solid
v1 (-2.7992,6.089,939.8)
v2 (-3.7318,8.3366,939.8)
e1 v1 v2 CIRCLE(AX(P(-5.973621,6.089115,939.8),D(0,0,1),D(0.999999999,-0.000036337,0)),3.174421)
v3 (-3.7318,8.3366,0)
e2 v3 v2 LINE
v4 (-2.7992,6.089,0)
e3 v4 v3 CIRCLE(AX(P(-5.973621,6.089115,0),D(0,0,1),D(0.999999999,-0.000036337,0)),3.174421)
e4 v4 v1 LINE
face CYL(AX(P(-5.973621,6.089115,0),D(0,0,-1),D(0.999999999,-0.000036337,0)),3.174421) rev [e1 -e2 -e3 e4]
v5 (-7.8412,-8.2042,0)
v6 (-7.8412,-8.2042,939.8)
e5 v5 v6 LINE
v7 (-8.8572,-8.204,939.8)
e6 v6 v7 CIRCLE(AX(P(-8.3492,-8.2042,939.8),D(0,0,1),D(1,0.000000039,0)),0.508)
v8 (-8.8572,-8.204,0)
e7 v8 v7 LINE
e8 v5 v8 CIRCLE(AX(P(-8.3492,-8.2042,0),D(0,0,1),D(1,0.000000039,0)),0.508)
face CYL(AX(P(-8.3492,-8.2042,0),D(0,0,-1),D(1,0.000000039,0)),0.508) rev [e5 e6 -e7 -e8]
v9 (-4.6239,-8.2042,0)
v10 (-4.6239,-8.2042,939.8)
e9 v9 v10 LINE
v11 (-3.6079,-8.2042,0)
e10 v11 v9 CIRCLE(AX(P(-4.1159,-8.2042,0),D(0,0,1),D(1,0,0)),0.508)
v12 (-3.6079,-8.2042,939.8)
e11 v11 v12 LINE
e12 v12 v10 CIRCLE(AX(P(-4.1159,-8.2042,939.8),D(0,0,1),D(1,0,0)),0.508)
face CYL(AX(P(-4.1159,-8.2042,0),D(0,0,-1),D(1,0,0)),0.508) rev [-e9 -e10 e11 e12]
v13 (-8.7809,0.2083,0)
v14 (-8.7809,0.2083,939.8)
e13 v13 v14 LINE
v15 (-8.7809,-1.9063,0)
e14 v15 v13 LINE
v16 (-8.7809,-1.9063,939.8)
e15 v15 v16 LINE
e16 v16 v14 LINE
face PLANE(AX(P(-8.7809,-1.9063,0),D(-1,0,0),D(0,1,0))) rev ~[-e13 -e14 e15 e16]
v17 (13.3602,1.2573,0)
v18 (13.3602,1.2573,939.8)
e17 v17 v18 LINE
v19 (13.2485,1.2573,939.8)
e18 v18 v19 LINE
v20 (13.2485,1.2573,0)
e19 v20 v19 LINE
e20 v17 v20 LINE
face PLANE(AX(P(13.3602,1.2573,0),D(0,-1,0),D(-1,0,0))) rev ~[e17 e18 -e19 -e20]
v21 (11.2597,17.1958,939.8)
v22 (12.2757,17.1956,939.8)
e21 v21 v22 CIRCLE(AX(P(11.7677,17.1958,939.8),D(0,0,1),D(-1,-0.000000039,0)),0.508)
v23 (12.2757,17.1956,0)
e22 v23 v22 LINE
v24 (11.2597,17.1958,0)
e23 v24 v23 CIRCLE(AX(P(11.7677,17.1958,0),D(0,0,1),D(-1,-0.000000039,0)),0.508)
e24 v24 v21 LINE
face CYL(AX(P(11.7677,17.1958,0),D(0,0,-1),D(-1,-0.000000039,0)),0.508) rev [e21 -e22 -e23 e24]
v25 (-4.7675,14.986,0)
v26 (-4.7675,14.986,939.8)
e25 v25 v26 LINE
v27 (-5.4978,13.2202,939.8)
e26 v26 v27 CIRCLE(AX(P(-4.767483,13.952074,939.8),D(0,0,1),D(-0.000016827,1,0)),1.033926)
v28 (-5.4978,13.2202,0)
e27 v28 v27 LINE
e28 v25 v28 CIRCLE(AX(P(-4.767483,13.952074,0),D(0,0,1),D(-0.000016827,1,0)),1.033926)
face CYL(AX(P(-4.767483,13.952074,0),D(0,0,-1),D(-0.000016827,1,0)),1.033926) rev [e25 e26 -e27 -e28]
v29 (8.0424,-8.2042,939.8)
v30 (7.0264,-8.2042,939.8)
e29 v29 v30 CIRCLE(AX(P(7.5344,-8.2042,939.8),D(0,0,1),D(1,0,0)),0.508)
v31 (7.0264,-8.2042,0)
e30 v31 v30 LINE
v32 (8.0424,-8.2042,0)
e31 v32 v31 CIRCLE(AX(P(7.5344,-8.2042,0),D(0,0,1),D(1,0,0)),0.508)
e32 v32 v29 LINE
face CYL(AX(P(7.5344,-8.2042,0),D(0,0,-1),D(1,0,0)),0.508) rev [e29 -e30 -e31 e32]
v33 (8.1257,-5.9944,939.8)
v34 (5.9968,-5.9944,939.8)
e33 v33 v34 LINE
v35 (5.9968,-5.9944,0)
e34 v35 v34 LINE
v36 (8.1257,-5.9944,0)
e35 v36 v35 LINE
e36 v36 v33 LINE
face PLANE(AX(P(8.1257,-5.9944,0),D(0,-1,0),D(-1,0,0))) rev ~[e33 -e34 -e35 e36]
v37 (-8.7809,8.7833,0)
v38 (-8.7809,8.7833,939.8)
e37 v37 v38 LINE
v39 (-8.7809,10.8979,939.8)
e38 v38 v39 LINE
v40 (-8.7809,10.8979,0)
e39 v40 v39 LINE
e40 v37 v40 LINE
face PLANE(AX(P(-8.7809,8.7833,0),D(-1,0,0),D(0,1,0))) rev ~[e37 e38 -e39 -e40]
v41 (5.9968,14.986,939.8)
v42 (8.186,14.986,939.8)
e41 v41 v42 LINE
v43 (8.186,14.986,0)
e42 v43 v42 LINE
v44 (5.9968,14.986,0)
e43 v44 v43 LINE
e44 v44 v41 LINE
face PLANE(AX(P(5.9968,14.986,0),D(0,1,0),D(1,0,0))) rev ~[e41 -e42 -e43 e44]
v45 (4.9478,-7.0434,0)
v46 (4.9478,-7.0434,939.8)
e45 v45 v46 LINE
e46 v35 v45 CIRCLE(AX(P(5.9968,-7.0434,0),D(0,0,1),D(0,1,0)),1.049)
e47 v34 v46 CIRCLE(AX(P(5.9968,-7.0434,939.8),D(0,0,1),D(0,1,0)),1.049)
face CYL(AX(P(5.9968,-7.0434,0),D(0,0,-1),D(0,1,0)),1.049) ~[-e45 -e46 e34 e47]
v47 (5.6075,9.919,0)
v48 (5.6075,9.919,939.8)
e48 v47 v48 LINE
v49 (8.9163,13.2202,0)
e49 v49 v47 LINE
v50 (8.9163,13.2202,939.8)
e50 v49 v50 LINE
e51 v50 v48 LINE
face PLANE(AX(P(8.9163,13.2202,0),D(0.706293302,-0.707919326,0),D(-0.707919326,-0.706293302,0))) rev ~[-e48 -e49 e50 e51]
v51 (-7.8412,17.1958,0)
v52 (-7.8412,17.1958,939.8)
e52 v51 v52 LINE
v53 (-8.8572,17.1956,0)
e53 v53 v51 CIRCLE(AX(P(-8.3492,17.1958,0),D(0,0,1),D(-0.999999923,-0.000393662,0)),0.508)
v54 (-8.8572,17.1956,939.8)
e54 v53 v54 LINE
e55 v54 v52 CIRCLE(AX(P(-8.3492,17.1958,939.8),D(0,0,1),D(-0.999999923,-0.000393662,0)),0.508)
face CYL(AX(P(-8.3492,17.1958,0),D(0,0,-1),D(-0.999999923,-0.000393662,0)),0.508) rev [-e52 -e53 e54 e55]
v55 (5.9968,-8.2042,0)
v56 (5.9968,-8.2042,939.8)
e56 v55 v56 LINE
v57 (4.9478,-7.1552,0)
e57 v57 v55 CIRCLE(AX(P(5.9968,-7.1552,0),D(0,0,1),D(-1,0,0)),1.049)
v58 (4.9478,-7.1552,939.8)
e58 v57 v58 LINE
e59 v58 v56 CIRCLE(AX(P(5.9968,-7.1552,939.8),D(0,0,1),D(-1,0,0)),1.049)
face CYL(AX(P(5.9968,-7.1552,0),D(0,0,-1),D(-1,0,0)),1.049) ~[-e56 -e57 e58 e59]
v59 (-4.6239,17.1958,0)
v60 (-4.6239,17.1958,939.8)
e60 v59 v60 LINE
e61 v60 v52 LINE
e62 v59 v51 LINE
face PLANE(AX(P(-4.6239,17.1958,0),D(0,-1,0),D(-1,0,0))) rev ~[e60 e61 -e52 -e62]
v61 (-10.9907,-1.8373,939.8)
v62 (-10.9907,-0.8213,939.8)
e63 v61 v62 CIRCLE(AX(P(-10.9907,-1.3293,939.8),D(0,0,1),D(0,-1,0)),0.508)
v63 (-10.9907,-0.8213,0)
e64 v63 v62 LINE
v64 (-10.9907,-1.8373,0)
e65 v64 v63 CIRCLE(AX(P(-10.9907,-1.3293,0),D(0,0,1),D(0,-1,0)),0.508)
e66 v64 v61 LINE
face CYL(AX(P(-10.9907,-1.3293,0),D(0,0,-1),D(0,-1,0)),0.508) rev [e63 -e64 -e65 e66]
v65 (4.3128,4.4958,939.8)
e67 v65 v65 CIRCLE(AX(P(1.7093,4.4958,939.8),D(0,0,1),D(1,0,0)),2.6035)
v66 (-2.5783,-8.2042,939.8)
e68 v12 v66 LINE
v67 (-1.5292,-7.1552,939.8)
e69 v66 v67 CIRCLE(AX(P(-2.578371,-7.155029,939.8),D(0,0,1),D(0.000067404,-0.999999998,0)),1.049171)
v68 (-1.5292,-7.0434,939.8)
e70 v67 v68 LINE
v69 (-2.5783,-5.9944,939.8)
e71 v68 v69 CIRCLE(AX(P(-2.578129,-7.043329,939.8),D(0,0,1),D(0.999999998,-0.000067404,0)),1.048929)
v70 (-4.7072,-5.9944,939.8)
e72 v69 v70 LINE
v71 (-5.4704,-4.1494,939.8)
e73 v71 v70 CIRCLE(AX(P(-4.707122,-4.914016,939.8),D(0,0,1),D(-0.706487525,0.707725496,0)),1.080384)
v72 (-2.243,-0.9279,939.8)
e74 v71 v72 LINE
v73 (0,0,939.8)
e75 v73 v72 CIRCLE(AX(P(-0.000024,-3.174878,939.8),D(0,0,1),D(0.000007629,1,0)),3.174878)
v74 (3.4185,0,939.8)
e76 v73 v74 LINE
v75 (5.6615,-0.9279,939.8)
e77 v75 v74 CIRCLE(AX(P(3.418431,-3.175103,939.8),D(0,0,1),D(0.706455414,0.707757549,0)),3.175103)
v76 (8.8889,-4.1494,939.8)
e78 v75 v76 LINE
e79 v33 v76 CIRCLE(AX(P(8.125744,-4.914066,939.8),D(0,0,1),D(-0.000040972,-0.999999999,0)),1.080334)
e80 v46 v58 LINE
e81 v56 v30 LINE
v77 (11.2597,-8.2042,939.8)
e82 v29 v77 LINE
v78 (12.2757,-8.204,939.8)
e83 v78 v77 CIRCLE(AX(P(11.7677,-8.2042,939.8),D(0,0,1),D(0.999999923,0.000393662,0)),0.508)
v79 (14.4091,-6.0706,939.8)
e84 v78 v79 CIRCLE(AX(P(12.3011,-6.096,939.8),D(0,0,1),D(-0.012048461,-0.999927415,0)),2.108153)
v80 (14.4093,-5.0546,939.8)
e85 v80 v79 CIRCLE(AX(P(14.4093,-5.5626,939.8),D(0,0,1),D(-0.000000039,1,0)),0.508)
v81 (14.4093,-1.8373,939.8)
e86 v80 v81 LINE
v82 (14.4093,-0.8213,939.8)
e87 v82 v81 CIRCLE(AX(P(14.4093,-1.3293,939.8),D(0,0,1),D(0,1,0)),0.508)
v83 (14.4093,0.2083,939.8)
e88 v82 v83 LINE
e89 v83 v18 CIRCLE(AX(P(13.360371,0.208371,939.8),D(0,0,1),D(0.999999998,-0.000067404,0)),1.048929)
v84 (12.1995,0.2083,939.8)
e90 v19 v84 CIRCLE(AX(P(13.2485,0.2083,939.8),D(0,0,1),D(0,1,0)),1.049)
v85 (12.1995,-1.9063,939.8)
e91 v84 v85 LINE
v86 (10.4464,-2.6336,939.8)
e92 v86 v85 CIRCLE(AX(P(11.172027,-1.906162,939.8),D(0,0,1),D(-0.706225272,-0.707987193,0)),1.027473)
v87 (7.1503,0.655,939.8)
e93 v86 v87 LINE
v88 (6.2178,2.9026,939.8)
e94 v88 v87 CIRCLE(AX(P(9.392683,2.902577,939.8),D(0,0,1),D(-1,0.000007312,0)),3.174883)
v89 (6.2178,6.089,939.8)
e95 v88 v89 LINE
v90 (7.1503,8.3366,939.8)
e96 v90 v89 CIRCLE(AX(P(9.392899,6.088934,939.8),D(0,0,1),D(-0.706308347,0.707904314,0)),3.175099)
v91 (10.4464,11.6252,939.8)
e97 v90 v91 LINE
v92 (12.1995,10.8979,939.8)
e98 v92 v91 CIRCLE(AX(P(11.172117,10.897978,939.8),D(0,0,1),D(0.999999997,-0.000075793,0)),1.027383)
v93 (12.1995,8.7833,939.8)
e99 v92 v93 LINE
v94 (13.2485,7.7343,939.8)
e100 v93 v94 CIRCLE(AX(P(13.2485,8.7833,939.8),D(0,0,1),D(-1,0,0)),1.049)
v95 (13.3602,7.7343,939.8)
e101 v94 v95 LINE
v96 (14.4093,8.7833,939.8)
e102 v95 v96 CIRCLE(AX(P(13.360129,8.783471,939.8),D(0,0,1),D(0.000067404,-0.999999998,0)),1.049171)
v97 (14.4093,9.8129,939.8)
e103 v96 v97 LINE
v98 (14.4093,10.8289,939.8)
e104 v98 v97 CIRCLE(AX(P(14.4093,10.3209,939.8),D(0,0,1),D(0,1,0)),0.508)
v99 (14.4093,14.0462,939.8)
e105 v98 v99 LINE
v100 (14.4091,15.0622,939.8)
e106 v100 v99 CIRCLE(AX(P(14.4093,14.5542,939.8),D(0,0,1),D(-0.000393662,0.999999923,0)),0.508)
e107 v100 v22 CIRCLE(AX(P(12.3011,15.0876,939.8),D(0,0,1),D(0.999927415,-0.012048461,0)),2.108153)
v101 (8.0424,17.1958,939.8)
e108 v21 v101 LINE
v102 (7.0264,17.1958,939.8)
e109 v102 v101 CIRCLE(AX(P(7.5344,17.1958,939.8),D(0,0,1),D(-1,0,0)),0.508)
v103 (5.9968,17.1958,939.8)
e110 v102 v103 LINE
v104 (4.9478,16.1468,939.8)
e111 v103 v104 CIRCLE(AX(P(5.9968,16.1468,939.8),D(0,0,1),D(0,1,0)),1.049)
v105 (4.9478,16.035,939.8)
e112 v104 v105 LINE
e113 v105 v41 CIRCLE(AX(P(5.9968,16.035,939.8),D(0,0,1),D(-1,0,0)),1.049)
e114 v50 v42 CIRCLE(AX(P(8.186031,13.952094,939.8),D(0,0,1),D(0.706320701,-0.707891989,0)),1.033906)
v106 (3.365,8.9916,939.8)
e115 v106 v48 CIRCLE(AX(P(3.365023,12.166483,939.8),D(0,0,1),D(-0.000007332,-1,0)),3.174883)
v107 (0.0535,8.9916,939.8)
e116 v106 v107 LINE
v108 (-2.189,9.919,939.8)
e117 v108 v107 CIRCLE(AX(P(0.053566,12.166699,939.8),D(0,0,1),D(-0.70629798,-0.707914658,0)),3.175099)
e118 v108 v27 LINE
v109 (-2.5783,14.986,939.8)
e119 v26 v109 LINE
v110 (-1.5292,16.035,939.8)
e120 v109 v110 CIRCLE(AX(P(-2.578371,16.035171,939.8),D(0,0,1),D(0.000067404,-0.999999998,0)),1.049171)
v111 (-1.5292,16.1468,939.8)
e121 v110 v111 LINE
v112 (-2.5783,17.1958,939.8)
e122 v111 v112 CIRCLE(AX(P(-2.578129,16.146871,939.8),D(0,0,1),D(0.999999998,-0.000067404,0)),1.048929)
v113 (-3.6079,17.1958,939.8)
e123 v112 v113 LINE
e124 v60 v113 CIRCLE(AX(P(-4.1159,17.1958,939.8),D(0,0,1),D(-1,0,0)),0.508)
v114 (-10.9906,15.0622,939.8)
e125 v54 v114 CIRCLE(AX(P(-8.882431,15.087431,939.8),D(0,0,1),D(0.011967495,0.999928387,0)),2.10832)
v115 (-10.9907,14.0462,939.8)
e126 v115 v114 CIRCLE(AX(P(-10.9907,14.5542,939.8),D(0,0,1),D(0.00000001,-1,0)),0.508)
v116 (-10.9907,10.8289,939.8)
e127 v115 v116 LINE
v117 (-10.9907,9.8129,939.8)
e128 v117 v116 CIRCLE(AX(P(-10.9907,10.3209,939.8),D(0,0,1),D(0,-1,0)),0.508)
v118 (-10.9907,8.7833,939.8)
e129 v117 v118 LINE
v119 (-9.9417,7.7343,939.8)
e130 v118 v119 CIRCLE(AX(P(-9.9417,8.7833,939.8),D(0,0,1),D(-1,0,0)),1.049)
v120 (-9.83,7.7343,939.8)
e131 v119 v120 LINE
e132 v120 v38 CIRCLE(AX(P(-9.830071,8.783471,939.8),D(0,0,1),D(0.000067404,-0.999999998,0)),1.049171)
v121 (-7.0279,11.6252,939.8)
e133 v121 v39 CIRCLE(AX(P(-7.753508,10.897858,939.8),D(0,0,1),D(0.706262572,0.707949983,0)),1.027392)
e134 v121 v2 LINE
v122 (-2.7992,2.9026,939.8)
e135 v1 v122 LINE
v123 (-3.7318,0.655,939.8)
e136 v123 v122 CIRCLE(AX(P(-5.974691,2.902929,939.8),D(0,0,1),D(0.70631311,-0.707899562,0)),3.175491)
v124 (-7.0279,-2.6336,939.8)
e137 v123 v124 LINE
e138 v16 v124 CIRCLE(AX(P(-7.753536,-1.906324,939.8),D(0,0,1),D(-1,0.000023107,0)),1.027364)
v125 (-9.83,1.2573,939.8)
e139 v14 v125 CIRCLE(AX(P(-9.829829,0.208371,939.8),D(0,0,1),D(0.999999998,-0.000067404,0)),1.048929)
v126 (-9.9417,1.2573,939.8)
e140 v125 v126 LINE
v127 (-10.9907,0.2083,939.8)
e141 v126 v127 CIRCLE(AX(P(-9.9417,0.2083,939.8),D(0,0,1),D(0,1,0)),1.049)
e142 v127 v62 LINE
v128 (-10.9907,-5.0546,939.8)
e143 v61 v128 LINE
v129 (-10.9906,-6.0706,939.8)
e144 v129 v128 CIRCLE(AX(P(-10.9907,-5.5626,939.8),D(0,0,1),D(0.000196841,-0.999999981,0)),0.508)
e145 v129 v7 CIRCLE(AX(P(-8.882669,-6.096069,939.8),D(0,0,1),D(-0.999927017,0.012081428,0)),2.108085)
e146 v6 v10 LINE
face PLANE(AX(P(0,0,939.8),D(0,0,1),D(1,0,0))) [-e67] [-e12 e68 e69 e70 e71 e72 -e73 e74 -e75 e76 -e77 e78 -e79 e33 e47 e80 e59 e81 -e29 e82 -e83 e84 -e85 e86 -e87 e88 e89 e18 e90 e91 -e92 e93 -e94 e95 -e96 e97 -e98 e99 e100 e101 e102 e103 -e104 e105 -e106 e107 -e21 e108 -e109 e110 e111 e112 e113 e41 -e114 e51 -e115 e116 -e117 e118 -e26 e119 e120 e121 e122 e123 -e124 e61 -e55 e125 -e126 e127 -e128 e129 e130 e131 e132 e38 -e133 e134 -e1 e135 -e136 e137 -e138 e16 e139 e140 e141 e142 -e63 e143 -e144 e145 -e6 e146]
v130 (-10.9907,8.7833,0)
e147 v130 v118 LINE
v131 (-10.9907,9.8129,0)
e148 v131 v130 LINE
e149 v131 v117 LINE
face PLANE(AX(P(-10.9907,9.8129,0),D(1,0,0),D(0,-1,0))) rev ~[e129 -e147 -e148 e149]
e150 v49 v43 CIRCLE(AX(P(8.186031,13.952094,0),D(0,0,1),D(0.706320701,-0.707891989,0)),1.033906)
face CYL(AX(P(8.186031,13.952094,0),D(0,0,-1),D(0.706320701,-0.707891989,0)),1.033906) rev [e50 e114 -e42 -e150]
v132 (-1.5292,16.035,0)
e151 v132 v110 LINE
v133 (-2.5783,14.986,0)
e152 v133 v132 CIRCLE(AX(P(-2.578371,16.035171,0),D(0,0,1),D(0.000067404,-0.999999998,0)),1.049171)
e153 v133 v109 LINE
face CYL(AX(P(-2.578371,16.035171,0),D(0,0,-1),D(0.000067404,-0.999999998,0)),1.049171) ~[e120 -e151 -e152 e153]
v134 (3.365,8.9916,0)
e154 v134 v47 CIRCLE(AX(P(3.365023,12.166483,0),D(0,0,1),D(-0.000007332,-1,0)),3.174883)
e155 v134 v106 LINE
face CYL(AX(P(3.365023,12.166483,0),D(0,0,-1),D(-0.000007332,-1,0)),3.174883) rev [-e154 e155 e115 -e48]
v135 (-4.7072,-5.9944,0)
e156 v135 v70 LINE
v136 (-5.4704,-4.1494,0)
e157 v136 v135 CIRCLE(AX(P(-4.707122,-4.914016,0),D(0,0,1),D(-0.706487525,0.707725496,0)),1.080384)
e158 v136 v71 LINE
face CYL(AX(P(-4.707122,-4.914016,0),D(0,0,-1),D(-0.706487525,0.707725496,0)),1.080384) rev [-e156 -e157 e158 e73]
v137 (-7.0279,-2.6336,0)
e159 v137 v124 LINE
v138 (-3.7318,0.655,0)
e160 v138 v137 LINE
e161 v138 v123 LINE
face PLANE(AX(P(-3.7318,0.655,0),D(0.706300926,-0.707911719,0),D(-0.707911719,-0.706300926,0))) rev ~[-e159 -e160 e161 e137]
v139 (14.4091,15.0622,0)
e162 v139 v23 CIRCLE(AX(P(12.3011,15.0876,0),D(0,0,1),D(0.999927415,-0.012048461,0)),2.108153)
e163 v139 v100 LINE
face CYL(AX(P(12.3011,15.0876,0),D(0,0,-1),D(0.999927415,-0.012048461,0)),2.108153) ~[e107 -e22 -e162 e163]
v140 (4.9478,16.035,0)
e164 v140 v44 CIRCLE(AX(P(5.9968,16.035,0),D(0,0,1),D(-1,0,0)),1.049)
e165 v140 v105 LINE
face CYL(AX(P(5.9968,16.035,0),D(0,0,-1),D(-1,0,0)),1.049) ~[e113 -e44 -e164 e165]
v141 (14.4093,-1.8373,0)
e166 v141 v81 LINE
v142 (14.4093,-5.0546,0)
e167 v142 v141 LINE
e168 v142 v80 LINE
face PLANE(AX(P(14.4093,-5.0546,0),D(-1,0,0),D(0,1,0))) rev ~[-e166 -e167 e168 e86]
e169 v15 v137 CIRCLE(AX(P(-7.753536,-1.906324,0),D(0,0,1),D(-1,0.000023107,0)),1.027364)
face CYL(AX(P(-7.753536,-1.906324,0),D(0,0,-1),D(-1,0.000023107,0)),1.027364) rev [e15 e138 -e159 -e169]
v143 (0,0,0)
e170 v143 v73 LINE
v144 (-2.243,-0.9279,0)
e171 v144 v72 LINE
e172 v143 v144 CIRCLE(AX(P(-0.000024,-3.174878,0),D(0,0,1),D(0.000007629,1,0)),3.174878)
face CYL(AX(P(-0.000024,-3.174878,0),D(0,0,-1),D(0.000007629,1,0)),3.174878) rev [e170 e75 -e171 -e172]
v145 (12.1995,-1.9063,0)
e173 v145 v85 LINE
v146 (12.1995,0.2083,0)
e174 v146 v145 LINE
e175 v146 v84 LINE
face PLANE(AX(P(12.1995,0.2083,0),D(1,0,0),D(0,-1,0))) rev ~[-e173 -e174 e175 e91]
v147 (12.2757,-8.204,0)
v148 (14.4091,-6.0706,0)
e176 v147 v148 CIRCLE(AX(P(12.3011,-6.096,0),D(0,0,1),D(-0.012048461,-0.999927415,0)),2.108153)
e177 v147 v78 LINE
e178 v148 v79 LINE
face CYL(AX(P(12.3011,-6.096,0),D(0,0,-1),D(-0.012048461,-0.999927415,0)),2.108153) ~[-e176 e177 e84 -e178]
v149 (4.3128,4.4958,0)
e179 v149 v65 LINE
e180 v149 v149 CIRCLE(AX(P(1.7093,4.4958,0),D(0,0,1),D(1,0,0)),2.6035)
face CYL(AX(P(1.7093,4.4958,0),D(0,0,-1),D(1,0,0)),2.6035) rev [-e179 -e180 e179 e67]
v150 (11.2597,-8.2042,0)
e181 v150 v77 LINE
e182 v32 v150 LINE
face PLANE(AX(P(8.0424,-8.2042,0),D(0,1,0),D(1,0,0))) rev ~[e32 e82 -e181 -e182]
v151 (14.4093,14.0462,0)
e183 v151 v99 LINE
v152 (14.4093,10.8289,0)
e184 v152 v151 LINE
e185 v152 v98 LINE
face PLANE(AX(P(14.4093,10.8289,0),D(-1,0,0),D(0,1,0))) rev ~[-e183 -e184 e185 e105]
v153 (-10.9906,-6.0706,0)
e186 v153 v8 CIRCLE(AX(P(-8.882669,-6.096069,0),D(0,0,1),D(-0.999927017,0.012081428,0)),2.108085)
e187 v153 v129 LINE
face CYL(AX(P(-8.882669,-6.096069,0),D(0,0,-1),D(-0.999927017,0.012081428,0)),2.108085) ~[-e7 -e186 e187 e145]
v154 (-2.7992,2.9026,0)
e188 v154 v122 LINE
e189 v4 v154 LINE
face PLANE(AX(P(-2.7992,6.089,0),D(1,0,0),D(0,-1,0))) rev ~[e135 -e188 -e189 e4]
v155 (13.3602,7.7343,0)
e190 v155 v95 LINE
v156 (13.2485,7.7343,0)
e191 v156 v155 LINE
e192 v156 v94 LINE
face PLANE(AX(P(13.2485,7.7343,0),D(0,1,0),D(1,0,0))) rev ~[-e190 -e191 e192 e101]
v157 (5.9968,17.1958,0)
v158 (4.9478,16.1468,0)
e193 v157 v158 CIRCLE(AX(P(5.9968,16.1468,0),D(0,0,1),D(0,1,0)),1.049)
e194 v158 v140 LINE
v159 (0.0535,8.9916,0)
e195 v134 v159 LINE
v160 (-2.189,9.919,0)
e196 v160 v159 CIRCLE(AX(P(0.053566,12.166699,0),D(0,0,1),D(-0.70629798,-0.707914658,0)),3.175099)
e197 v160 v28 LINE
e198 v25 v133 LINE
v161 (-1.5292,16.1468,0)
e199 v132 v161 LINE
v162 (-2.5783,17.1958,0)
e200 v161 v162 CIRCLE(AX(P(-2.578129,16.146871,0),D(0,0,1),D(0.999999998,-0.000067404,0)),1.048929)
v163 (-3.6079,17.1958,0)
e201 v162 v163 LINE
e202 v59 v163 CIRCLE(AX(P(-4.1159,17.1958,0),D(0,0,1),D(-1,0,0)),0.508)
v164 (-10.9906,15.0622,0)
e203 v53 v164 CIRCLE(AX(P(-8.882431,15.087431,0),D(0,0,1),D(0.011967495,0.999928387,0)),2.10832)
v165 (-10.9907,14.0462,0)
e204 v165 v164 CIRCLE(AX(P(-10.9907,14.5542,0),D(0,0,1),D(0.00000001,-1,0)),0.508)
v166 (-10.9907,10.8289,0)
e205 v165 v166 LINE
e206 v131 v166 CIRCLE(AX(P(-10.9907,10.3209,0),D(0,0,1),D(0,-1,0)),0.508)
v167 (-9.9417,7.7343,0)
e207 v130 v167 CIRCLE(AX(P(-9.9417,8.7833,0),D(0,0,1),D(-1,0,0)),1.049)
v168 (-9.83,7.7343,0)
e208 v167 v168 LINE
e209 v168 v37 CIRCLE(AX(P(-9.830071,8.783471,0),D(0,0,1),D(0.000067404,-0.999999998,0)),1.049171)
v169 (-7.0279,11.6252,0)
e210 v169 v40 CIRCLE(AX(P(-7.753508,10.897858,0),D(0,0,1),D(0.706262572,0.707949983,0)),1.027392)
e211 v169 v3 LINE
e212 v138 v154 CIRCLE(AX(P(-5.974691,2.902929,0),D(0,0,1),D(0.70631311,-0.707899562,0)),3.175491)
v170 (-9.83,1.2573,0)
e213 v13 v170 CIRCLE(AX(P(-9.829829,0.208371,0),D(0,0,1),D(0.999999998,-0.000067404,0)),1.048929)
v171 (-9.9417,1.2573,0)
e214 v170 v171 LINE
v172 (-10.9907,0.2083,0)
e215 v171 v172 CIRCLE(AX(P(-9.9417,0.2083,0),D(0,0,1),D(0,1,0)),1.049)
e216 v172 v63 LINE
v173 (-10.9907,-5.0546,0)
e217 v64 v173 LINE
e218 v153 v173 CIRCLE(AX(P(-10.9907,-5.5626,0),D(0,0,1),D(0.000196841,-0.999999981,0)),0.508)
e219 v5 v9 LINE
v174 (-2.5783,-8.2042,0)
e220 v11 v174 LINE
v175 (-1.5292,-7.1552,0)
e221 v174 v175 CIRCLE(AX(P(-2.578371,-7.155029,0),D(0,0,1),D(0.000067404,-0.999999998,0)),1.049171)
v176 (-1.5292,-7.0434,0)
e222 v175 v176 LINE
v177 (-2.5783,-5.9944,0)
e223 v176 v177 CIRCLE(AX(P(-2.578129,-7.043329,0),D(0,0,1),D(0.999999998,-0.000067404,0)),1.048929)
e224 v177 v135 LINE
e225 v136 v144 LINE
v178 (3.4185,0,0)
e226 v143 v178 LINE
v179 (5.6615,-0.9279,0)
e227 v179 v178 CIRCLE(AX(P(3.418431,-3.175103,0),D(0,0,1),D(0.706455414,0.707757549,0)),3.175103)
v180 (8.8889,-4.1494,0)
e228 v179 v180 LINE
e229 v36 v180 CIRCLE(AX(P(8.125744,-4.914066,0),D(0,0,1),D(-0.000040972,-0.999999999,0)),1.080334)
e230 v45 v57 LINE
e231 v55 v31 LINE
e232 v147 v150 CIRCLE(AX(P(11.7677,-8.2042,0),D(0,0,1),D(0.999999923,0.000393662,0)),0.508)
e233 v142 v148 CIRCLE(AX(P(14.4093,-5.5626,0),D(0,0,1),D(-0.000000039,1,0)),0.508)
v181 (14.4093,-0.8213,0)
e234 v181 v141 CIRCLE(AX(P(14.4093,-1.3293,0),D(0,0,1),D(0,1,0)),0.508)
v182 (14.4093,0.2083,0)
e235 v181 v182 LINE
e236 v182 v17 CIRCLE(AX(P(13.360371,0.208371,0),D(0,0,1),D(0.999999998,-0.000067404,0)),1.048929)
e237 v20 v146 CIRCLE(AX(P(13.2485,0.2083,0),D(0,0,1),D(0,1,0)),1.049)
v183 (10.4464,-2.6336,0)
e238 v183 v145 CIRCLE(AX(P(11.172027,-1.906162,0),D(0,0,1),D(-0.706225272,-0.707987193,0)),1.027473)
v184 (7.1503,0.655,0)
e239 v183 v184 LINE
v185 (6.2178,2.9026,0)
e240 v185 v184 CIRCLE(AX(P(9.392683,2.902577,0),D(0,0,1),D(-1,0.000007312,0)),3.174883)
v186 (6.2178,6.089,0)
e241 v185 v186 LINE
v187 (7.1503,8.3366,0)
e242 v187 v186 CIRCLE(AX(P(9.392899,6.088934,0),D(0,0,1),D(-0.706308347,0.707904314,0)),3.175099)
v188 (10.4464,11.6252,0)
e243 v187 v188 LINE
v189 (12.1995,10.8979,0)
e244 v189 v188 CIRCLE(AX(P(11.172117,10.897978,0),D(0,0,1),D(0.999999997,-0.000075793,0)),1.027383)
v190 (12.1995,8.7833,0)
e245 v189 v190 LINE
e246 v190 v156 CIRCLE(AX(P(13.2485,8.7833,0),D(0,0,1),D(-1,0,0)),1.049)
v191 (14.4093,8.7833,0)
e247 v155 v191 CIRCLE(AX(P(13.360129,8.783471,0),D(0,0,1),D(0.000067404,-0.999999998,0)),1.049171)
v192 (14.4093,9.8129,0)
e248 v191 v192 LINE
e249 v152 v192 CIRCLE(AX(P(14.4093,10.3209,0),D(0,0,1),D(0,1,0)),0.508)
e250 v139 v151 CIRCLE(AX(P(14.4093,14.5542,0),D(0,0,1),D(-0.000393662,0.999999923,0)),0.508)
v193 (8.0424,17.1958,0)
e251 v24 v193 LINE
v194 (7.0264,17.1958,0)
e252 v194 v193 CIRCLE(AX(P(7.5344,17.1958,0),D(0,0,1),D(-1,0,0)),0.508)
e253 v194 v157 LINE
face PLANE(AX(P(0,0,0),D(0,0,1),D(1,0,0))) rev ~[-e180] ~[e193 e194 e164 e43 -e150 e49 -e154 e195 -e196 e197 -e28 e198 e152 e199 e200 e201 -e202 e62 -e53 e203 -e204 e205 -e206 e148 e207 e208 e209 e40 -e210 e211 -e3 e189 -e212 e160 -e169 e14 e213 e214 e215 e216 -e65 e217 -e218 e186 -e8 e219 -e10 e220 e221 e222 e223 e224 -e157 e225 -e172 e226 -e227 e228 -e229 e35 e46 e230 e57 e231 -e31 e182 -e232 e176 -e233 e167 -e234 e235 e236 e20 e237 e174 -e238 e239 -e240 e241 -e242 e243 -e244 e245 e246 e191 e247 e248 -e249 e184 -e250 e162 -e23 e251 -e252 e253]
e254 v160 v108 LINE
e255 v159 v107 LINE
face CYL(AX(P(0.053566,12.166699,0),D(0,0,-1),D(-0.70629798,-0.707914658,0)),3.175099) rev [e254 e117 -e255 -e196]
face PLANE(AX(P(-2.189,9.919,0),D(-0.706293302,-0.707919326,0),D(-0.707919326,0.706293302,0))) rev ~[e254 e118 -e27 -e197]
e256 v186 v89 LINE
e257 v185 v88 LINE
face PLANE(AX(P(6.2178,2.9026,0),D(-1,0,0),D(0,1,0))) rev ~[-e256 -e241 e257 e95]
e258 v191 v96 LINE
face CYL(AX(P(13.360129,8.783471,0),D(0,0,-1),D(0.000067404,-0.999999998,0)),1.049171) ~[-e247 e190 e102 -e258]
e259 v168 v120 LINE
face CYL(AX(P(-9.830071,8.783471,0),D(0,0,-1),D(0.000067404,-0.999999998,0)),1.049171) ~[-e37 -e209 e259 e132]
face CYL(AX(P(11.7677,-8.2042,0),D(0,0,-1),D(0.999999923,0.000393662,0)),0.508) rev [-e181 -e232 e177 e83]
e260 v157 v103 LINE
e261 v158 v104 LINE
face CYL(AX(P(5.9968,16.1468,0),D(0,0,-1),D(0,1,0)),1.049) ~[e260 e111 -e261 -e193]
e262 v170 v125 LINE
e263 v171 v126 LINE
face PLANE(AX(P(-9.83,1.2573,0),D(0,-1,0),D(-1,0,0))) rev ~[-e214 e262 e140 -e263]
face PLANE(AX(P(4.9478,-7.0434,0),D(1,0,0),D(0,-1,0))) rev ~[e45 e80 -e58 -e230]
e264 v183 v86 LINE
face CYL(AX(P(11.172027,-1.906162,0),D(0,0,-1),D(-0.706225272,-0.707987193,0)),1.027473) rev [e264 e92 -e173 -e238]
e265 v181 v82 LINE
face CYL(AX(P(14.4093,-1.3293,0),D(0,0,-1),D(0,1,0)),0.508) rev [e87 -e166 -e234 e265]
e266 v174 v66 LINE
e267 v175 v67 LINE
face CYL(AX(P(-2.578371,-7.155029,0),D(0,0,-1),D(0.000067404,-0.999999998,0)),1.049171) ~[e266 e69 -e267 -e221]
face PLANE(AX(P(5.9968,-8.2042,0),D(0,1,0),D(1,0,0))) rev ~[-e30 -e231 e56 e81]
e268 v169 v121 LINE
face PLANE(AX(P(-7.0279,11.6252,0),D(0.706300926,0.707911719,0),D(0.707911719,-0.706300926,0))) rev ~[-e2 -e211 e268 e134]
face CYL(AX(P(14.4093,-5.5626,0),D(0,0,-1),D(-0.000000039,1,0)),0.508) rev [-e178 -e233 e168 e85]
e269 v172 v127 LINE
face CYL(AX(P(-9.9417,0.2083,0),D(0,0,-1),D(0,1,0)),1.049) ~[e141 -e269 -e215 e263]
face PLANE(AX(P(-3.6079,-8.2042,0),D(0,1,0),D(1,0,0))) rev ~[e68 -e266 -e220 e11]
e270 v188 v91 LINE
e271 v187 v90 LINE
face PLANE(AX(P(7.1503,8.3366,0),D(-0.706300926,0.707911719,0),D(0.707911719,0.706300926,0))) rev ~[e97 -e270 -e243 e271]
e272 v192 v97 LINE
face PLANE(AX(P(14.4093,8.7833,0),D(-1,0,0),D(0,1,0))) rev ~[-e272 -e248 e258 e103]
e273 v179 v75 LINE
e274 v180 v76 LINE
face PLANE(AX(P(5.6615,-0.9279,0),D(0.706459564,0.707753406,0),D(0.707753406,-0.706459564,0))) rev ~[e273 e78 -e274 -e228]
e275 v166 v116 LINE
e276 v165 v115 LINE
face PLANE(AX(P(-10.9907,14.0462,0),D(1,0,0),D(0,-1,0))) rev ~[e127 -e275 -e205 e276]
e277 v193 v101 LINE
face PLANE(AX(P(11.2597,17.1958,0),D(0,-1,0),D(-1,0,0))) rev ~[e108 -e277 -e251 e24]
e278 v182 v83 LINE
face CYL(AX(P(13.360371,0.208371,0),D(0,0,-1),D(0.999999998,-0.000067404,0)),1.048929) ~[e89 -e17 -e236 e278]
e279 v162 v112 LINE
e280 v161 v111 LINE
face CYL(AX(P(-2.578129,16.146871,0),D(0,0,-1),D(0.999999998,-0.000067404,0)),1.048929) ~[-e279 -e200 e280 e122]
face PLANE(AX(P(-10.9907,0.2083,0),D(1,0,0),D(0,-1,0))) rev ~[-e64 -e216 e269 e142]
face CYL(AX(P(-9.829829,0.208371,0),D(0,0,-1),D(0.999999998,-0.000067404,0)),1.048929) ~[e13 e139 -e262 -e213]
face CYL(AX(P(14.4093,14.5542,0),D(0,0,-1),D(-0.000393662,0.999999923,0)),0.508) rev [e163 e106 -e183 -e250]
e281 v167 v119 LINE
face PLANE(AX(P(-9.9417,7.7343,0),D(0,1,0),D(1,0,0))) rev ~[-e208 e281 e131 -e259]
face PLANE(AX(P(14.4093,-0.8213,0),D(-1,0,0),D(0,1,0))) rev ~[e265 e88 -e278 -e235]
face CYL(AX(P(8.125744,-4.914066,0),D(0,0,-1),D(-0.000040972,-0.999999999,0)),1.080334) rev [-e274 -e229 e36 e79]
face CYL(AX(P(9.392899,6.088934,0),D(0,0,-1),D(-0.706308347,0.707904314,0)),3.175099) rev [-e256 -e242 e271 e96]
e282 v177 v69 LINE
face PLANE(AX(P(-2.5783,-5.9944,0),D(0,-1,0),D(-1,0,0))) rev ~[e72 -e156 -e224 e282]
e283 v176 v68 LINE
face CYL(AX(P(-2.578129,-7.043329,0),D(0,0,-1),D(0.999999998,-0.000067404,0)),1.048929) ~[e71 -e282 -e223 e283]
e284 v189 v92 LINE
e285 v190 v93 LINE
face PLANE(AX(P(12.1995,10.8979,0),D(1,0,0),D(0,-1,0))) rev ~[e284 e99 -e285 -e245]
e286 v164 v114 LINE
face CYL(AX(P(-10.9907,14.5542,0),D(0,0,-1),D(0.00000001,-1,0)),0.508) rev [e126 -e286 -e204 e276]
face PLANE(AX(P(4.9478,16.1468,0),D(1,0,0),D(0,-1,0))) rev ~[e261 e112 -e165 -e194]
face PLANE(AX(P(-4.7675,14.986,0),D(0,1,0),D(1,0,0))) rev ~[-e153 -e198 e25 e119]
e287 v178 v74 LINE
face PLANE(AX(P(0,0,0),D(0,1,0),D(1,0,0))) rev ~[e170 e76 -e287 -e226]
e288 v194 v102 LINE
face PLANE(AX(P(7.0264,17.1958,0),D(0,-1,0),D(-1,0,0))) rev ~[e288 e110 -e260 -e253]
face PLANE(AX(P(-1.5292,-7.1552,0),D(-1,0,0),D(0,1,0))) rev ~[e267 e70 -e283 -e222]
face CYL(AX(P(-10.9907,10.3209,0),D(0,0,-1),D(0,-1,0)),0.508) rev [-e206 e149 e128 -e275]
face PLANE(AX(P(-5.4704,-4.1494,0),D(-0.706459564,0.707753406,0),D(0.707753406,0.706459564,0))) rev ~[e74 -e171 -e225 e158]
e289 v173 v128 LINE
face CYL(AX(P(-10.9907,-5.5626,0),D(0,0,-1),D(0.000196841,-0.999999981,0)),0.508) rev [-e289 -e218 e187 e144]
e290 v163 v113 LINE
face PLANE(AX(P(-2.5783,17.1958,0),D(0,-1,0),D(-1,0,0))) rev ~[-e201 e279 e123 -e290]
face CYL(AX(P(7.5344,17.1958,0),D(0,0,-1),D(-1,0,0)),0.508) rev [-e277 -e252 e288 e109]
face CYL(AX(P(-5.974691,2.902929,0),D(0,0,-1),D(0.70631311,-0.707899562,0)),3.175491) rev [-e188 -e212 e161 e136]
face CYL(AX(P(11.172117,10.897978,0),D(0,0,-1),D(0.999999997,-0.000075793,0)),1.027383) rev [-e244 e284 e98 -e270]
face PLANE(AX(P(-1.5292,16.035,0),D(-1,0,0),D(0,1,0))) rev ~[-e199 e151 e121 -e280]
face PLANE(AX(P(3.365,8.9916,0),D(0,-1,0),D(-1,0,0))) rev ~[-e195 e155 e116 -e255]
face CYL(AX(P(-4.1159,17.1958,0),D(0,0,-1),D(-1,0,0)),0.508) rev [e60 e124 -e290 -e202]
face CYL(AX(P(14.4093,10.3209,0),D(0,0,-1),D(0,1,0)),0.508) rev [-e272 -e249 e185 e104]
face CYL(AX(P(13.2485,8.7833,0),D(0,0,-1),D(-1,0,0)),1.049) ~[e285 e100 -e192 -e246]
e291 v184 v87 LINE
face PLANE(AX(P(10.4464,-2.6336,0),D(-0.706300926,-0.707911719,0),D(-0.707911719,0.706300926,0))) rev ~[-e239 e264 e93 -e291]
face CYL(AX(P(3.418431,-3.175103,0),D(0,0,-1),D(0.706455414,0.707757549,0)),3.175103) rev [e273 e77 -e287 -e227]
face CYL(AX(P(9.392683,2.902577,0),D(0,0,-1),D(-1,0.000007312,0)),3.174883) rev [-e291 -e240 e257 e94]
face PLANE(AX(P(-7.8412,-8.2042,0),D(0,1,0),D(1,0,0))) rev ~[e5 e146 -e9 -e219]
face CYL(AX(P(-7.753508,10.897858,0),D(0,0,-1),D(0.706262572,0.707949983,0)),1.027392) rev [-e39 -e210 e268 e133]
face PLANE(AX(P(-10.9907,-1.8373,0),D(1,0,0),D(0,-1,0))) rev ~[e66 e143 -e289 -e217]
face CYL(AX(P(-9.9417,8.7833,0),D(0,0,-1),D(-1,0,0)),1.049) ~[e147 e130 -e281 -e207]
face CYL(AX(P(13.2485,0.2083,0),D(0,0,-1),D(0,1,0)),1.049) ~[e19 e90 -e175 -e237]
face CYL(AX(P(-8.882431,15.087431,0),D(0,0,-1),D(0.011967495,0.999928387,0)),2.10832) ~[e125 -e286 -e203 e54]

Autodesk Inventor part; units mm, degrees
ref_plane "YZ Plane" through (0, 0, 0) normal (1, 0, 0) x (0, 1, 0)
ref_plane "XZ Plane" through (0, 0, 0) normal (0, 1, 0) x (-1, 0, 0)
ref_plane "XY Plane" through (0, 0, 0) normal (0, 0, 1) x (1, 0, 0)
sketch "Sketch1" plane through (0, 0, 0) normal (0, 0, 1) x (1, 0, 0)
  arc A0 (-5.4704, -4.1494) -> (-4.7072, -5.9944) centre (-4.7072, -4.914) ccw
  line L0 (-5.4704, -4.1494) -> (-2.243, -0.9279)
  arc A1 (0, 0) -> (-2.243, -0.9279) centre (0, -3.175) ccw
  line L1 (0, 0) -> (3.4185, 0)
  arc A2 (5.6615, -0.9279) -> (3.4185, 0) centre (3.4185, -3.175) ccw
  line L2 (5.6615, -0.9279) -> (8.8889, -4.1494)
  arc A3 (8.1257, -5.9944) -> (8.8889, -4.1494) centre (8.1257, -4.914) ccw
  line L3 (8.1257, -5.9944) -> (5.9968, -5.9944)
  arc A4 (5.9968, -5.9944) -> (4.9478, -7.0434) centre (5.9968, -7.0434) ccw
  line L4 (4.9478, -7.0434) -> (4.9478, -7.1552)
  arc A5 (4.9478, -7.1552) -> (5.9968, -8.2042) centre (5.9968, -7.1552) ccw
  line L5 (5.9968, -8.2042) -> (7.0264, -8.2042)
  arc A6 (8.0424, -8.2042) -> (7.0264, -8.2042) centre (7.5344, -8.2042) ccw
  line L6 (8.0424, -8.2042) -> (11.2597, -8.2042)
  arc A7 (12.2757, -8.204) -> (11.2597, -8.2042) centre (11.7677, -8.2042) ccw
  arc A8 (12.2757, -8.204) -> (14.4091, -6.0706) centre (12.3011, -6.096) ccw
  arc A9 (14.4093, -5.0546) -> (14.4091, -6.0706) centre (14.4093, -5.5626) ccw
  line L7 (14.4093, -5.0546) -> (14.4093, -1.8373)
  arc A10 (14.4093, -0.8213) -> (14.4093, -1.8373) centre (14.4093, -1.3293) ccw
  line L8 (14.4093, -0.8213) -> (14.4093, 0.2083)
  arc A11 (14.4093, 0.2083) -> (13.3602, 1.2573) centre (13.3602, 0.2083) ccw
  line L9 (13.3602, 1.2573) -> (13.2485, 1.2573)
  arc A12 (13.2485, 1.2573) -> (12.1995, 0.2083) centre (13.2485, 0.2083) ccw
  line L10 (12.1995, 0.2083) -> (12.1995, -1.9063)
  arc A13 (10.4464, -2.6336) -> (12.1995, -1.9063) centre (11.172, -1.9063) ccw
  line L11 (10.4464, -2.6336) -> (7.1503, 0.655)
  arc A14 (6.2178, 2.9026) -> (7.1503, 0.655) centre (9.3928, 2.9026) ccw
  line L12 (6.2178, 2.9026) -> (6.2178, 6.089)
  arc A15 (7.1503, 8.3366) -> (6.2178, 6.089) centre (9.3928, 6.089) ccw
  line L13 (7.1503, 8.3366) -> (10.4464, 11.6252)
  arc A16 (12.1995, 10.8979) -> (10.4464, 11.6252) centre (11.172, 10.8979) ccw
  line L14 (12.1995, 10.8979) -> (12.1995, 8.7833)
  arc A17 (12.1995, 8.7833) -> (13.2485, 7.7343) centre (13.2485, 8.7833) ccw
  line L15 (13.2485, 7.7343) -> (13.3602, 7.7343)
  arc A18 (13.3602, 7.7343) -> (14.4093, 8.7833) centre (13.3602, 8.7833) ccw
  line L16 (14.4093, 8.7833) -> (14.4093, 9.8129)
  arc A19 (14.4093, 10.8289) -> (14.4093, 9.8129) centre (14.4093, 10.3209) ccw
  line L17 (14.4093, 10.8289) -> (14.4093, 14.0462)
  arc A20 (14.4091, 15.0622) -> (14.4093, 14.0462) centre (14.4093, 14.5542) ccw
  arc A21 (14.4091, 15.0622) -> (12.2757, 17.1956) centre (12.3011, 15.0876) ccw
  arc A22 (11.2597, 17.1958) -> (12.2757, 17.1956) centre (11.7677, 17.1958) ccw
  line L18 (11.2597, 17.1958) -> (8.0424, 17.1958)
  arc A23 (7.0264, 17.1958) -> (8.0424, 17.1958) centre (7.5344, 17.1958) ccw
  line L19 (7.0264, 17.1958) -> (5.9968, 17.1958)
  arc A24 (5.9968, 17.1958) -> (4.9478, 16.1468) centre (5.9968, 16.1468) ccw
  line L20 (4.9478, 16.1468) -> (4.9478, 16.035)
  arc A25 (4.9478, 16.035) -> (5.9968, 14.986) centre (5.9968, 16.035) ccw
  line L21 (5.9968, 14.986) -> (8.186, 14.986)
  arc A26 (8.9163, 13.2202) -> (8.186, 14.986) centre (8.186, 13.9521) ccw
  line L22 (8.9163, 13.2202) -> (5.6075, 9.919)
  arc A27 (3.365, 8.9916) -> (5.6075, 9.919) centre (3.365, 12.1666) ccw
  line L23 (3.365, 8.9916) -> (0.0535, 8.9916)
  arc A28 (-2.189, 9.919) -> (0.0535, 8.9916) centre (0.0535, 12.1666) ccw
  line L24 (-2.189, 9.919) -> (-5.4978, 13.2202)
  arc A29 (-4.7675, 14.986) -> (-5.4978, 13.2202) centre (-4.7675, 13.9521) ccw
  line L25 (-4.7675, 14.986) -> (-2.5783, 14.986)
  arc A30 (-2.5783, 14.986) -> (-1.5292, 16.035) centre (-2.5783, 16.035) ccw
  line L26 (-1.5292, 16.035) -> (-1.5292, 16.1468)
  arc A31 (-1.5292, 16.1468) -> (-2.5783, 17.1958) centre (-2.5783, 16.1468) ccw
  line L27 (-2.5783, 17.1958) -> (-3.6079, 17.1958)
  arc A32 (-4.6239, 17.1958) -> (-3.6079, 17.1958) centre (-4.1159, 17.1958) ccw
  line L28 (-4.6239, 17.1958) -> (-7.8412, 17.1958)
  arc A33 (-8.8572, 17.1956) -> (-7.8412, 17.1958) centre (-8.3492, 17.1958) ccw
  arc A34 (-8.8572, 17.1956) -> (-10.9906, 15.0622) centre (-8.8825, 15.0876) ccw
  arc A35 (-10.9907, 14.0462) -> (-10.9906, 15.0622) centre (-10.9907, 14.5542) ccw
  line L29 (-10.9907, 14.0462) -> (-10.9907, 10.8289)
  arc A36 (-10.9907, 9.8129) -> (-10.9907, 10.8289) centre (-10.9907, 10.3209) ccw
  line L30 (-10.9907, 9.8129) -> (-10.9907, 8.7833)
  arc A37 (-10.9907, 8.7833) -> (-9.9417, 7.7343) centre (-9.9417, 8.7833) ccw
  line L31 (-9.9417, 7.7343) -> (-9.83, 7.7343)
  arc A38 (-9.83, 7.7343) -> (-8.7809, 8.7833) centre (-9.83, 8.7833) ccw
  line L32 (-8.7809, 8.7833) -> (-8.7809, 10.8979)
  arc A39 (-7.0279, 11.6252) -> (-8.7809, 10.8979) centre (-7.7535, 10.8979) ccw
  line L33 (-7.0279, 11.6252) -> (-3.7318, 8.3366)
  arc A40 (-2.7992, 6.089) -> (-3.7318, 8.3366) centre (-5.9742, 6.089) ccw
  line L34 (-2.7992, 6.089) -> (-2.7992, 2.9026)
  arc A41 (-3.7318, 0.655) -> (-2.7992, 2.9026) centre (-5.9742, 2.9026) ccw
  line L35 (-3.7318, 0.655) -> (-7.0279, -2.6336)
  arc A42 (-8.7809, -1.9063) -> (-7.0279, -2.6336) centre (-7.7535, -1.9063) ccw
  line L36 (-8.7809, -1.9063) -> (-8.7809, 0.2083)
  arc A43 (-8.7809, 0.2083) -> (-9.83, 1.2573) centre (-9.83, 0.2083) ccw
  line L37 (-9.83, 1.2573) -> (-9.9417, 1.2573)
  arc A44 (-9.9417, 1.2573) -> (-10.9907, 0.2083) centre (-9.9417, 0.2083) ccw
  line L38 (-10.9907, 0.2083) -> (-10.9907, -0.8213)
  arc A45 (-10.9907, -1.8373) -> (-10.9907, -0.8213) centre (-10.9907, -1.3293) ccw
  line L39 (-10.9907, -1.8373) -> (-10.9907, -5.0546)
  arc A46 (-10.9906, -6.0706) -> (-10.9907, -5.0546) centre (-10.9907, -5.5626) ccw
  arc A47 (-10.9906, -6.0706) -> (-8.8572, -8.204) centre (-8.8825, -6.096) ccw
  arc A48 (-7.8412, -8.2042) -> (-8.8572, -8.204) centre (-8.3492, -8.2042) ccw
  line L40 (-7.8412, -8.2042) -> (-4.6239, -8.2042)
  arc A49 (-3.6079, -8.2042) -> (-4.6239, -8.2042) centre (-4.1159, -8.2042) ccw
  line L41 (-3.6079, -8.2042) -> (-2.5783, -8.2042)
  arc A50 (-2.5783, -8.2042) -> (-1.5292, -7.1552) centre (-2.5783, -7.1552) ccw
  line L42 (-1.5292, -7.1552) -> (-1.5292, -7.0434)
  arc A51 (-1.5292, -7.0434) -> (-2.5783, -5.9944) centre (-2.5783, -7.0434) ccw
  line L43 (-2.5783, -5.9944) -> (-4.7072, -5.9944)
  circle A52 centre (1.7093, 4.4958) radius 2.6035
extrude "Extrusion1" add sketch "Sketch1" along normal blind 939.8
properties part number "37 in 1x1 T slot" material "Steel, Alloy"
